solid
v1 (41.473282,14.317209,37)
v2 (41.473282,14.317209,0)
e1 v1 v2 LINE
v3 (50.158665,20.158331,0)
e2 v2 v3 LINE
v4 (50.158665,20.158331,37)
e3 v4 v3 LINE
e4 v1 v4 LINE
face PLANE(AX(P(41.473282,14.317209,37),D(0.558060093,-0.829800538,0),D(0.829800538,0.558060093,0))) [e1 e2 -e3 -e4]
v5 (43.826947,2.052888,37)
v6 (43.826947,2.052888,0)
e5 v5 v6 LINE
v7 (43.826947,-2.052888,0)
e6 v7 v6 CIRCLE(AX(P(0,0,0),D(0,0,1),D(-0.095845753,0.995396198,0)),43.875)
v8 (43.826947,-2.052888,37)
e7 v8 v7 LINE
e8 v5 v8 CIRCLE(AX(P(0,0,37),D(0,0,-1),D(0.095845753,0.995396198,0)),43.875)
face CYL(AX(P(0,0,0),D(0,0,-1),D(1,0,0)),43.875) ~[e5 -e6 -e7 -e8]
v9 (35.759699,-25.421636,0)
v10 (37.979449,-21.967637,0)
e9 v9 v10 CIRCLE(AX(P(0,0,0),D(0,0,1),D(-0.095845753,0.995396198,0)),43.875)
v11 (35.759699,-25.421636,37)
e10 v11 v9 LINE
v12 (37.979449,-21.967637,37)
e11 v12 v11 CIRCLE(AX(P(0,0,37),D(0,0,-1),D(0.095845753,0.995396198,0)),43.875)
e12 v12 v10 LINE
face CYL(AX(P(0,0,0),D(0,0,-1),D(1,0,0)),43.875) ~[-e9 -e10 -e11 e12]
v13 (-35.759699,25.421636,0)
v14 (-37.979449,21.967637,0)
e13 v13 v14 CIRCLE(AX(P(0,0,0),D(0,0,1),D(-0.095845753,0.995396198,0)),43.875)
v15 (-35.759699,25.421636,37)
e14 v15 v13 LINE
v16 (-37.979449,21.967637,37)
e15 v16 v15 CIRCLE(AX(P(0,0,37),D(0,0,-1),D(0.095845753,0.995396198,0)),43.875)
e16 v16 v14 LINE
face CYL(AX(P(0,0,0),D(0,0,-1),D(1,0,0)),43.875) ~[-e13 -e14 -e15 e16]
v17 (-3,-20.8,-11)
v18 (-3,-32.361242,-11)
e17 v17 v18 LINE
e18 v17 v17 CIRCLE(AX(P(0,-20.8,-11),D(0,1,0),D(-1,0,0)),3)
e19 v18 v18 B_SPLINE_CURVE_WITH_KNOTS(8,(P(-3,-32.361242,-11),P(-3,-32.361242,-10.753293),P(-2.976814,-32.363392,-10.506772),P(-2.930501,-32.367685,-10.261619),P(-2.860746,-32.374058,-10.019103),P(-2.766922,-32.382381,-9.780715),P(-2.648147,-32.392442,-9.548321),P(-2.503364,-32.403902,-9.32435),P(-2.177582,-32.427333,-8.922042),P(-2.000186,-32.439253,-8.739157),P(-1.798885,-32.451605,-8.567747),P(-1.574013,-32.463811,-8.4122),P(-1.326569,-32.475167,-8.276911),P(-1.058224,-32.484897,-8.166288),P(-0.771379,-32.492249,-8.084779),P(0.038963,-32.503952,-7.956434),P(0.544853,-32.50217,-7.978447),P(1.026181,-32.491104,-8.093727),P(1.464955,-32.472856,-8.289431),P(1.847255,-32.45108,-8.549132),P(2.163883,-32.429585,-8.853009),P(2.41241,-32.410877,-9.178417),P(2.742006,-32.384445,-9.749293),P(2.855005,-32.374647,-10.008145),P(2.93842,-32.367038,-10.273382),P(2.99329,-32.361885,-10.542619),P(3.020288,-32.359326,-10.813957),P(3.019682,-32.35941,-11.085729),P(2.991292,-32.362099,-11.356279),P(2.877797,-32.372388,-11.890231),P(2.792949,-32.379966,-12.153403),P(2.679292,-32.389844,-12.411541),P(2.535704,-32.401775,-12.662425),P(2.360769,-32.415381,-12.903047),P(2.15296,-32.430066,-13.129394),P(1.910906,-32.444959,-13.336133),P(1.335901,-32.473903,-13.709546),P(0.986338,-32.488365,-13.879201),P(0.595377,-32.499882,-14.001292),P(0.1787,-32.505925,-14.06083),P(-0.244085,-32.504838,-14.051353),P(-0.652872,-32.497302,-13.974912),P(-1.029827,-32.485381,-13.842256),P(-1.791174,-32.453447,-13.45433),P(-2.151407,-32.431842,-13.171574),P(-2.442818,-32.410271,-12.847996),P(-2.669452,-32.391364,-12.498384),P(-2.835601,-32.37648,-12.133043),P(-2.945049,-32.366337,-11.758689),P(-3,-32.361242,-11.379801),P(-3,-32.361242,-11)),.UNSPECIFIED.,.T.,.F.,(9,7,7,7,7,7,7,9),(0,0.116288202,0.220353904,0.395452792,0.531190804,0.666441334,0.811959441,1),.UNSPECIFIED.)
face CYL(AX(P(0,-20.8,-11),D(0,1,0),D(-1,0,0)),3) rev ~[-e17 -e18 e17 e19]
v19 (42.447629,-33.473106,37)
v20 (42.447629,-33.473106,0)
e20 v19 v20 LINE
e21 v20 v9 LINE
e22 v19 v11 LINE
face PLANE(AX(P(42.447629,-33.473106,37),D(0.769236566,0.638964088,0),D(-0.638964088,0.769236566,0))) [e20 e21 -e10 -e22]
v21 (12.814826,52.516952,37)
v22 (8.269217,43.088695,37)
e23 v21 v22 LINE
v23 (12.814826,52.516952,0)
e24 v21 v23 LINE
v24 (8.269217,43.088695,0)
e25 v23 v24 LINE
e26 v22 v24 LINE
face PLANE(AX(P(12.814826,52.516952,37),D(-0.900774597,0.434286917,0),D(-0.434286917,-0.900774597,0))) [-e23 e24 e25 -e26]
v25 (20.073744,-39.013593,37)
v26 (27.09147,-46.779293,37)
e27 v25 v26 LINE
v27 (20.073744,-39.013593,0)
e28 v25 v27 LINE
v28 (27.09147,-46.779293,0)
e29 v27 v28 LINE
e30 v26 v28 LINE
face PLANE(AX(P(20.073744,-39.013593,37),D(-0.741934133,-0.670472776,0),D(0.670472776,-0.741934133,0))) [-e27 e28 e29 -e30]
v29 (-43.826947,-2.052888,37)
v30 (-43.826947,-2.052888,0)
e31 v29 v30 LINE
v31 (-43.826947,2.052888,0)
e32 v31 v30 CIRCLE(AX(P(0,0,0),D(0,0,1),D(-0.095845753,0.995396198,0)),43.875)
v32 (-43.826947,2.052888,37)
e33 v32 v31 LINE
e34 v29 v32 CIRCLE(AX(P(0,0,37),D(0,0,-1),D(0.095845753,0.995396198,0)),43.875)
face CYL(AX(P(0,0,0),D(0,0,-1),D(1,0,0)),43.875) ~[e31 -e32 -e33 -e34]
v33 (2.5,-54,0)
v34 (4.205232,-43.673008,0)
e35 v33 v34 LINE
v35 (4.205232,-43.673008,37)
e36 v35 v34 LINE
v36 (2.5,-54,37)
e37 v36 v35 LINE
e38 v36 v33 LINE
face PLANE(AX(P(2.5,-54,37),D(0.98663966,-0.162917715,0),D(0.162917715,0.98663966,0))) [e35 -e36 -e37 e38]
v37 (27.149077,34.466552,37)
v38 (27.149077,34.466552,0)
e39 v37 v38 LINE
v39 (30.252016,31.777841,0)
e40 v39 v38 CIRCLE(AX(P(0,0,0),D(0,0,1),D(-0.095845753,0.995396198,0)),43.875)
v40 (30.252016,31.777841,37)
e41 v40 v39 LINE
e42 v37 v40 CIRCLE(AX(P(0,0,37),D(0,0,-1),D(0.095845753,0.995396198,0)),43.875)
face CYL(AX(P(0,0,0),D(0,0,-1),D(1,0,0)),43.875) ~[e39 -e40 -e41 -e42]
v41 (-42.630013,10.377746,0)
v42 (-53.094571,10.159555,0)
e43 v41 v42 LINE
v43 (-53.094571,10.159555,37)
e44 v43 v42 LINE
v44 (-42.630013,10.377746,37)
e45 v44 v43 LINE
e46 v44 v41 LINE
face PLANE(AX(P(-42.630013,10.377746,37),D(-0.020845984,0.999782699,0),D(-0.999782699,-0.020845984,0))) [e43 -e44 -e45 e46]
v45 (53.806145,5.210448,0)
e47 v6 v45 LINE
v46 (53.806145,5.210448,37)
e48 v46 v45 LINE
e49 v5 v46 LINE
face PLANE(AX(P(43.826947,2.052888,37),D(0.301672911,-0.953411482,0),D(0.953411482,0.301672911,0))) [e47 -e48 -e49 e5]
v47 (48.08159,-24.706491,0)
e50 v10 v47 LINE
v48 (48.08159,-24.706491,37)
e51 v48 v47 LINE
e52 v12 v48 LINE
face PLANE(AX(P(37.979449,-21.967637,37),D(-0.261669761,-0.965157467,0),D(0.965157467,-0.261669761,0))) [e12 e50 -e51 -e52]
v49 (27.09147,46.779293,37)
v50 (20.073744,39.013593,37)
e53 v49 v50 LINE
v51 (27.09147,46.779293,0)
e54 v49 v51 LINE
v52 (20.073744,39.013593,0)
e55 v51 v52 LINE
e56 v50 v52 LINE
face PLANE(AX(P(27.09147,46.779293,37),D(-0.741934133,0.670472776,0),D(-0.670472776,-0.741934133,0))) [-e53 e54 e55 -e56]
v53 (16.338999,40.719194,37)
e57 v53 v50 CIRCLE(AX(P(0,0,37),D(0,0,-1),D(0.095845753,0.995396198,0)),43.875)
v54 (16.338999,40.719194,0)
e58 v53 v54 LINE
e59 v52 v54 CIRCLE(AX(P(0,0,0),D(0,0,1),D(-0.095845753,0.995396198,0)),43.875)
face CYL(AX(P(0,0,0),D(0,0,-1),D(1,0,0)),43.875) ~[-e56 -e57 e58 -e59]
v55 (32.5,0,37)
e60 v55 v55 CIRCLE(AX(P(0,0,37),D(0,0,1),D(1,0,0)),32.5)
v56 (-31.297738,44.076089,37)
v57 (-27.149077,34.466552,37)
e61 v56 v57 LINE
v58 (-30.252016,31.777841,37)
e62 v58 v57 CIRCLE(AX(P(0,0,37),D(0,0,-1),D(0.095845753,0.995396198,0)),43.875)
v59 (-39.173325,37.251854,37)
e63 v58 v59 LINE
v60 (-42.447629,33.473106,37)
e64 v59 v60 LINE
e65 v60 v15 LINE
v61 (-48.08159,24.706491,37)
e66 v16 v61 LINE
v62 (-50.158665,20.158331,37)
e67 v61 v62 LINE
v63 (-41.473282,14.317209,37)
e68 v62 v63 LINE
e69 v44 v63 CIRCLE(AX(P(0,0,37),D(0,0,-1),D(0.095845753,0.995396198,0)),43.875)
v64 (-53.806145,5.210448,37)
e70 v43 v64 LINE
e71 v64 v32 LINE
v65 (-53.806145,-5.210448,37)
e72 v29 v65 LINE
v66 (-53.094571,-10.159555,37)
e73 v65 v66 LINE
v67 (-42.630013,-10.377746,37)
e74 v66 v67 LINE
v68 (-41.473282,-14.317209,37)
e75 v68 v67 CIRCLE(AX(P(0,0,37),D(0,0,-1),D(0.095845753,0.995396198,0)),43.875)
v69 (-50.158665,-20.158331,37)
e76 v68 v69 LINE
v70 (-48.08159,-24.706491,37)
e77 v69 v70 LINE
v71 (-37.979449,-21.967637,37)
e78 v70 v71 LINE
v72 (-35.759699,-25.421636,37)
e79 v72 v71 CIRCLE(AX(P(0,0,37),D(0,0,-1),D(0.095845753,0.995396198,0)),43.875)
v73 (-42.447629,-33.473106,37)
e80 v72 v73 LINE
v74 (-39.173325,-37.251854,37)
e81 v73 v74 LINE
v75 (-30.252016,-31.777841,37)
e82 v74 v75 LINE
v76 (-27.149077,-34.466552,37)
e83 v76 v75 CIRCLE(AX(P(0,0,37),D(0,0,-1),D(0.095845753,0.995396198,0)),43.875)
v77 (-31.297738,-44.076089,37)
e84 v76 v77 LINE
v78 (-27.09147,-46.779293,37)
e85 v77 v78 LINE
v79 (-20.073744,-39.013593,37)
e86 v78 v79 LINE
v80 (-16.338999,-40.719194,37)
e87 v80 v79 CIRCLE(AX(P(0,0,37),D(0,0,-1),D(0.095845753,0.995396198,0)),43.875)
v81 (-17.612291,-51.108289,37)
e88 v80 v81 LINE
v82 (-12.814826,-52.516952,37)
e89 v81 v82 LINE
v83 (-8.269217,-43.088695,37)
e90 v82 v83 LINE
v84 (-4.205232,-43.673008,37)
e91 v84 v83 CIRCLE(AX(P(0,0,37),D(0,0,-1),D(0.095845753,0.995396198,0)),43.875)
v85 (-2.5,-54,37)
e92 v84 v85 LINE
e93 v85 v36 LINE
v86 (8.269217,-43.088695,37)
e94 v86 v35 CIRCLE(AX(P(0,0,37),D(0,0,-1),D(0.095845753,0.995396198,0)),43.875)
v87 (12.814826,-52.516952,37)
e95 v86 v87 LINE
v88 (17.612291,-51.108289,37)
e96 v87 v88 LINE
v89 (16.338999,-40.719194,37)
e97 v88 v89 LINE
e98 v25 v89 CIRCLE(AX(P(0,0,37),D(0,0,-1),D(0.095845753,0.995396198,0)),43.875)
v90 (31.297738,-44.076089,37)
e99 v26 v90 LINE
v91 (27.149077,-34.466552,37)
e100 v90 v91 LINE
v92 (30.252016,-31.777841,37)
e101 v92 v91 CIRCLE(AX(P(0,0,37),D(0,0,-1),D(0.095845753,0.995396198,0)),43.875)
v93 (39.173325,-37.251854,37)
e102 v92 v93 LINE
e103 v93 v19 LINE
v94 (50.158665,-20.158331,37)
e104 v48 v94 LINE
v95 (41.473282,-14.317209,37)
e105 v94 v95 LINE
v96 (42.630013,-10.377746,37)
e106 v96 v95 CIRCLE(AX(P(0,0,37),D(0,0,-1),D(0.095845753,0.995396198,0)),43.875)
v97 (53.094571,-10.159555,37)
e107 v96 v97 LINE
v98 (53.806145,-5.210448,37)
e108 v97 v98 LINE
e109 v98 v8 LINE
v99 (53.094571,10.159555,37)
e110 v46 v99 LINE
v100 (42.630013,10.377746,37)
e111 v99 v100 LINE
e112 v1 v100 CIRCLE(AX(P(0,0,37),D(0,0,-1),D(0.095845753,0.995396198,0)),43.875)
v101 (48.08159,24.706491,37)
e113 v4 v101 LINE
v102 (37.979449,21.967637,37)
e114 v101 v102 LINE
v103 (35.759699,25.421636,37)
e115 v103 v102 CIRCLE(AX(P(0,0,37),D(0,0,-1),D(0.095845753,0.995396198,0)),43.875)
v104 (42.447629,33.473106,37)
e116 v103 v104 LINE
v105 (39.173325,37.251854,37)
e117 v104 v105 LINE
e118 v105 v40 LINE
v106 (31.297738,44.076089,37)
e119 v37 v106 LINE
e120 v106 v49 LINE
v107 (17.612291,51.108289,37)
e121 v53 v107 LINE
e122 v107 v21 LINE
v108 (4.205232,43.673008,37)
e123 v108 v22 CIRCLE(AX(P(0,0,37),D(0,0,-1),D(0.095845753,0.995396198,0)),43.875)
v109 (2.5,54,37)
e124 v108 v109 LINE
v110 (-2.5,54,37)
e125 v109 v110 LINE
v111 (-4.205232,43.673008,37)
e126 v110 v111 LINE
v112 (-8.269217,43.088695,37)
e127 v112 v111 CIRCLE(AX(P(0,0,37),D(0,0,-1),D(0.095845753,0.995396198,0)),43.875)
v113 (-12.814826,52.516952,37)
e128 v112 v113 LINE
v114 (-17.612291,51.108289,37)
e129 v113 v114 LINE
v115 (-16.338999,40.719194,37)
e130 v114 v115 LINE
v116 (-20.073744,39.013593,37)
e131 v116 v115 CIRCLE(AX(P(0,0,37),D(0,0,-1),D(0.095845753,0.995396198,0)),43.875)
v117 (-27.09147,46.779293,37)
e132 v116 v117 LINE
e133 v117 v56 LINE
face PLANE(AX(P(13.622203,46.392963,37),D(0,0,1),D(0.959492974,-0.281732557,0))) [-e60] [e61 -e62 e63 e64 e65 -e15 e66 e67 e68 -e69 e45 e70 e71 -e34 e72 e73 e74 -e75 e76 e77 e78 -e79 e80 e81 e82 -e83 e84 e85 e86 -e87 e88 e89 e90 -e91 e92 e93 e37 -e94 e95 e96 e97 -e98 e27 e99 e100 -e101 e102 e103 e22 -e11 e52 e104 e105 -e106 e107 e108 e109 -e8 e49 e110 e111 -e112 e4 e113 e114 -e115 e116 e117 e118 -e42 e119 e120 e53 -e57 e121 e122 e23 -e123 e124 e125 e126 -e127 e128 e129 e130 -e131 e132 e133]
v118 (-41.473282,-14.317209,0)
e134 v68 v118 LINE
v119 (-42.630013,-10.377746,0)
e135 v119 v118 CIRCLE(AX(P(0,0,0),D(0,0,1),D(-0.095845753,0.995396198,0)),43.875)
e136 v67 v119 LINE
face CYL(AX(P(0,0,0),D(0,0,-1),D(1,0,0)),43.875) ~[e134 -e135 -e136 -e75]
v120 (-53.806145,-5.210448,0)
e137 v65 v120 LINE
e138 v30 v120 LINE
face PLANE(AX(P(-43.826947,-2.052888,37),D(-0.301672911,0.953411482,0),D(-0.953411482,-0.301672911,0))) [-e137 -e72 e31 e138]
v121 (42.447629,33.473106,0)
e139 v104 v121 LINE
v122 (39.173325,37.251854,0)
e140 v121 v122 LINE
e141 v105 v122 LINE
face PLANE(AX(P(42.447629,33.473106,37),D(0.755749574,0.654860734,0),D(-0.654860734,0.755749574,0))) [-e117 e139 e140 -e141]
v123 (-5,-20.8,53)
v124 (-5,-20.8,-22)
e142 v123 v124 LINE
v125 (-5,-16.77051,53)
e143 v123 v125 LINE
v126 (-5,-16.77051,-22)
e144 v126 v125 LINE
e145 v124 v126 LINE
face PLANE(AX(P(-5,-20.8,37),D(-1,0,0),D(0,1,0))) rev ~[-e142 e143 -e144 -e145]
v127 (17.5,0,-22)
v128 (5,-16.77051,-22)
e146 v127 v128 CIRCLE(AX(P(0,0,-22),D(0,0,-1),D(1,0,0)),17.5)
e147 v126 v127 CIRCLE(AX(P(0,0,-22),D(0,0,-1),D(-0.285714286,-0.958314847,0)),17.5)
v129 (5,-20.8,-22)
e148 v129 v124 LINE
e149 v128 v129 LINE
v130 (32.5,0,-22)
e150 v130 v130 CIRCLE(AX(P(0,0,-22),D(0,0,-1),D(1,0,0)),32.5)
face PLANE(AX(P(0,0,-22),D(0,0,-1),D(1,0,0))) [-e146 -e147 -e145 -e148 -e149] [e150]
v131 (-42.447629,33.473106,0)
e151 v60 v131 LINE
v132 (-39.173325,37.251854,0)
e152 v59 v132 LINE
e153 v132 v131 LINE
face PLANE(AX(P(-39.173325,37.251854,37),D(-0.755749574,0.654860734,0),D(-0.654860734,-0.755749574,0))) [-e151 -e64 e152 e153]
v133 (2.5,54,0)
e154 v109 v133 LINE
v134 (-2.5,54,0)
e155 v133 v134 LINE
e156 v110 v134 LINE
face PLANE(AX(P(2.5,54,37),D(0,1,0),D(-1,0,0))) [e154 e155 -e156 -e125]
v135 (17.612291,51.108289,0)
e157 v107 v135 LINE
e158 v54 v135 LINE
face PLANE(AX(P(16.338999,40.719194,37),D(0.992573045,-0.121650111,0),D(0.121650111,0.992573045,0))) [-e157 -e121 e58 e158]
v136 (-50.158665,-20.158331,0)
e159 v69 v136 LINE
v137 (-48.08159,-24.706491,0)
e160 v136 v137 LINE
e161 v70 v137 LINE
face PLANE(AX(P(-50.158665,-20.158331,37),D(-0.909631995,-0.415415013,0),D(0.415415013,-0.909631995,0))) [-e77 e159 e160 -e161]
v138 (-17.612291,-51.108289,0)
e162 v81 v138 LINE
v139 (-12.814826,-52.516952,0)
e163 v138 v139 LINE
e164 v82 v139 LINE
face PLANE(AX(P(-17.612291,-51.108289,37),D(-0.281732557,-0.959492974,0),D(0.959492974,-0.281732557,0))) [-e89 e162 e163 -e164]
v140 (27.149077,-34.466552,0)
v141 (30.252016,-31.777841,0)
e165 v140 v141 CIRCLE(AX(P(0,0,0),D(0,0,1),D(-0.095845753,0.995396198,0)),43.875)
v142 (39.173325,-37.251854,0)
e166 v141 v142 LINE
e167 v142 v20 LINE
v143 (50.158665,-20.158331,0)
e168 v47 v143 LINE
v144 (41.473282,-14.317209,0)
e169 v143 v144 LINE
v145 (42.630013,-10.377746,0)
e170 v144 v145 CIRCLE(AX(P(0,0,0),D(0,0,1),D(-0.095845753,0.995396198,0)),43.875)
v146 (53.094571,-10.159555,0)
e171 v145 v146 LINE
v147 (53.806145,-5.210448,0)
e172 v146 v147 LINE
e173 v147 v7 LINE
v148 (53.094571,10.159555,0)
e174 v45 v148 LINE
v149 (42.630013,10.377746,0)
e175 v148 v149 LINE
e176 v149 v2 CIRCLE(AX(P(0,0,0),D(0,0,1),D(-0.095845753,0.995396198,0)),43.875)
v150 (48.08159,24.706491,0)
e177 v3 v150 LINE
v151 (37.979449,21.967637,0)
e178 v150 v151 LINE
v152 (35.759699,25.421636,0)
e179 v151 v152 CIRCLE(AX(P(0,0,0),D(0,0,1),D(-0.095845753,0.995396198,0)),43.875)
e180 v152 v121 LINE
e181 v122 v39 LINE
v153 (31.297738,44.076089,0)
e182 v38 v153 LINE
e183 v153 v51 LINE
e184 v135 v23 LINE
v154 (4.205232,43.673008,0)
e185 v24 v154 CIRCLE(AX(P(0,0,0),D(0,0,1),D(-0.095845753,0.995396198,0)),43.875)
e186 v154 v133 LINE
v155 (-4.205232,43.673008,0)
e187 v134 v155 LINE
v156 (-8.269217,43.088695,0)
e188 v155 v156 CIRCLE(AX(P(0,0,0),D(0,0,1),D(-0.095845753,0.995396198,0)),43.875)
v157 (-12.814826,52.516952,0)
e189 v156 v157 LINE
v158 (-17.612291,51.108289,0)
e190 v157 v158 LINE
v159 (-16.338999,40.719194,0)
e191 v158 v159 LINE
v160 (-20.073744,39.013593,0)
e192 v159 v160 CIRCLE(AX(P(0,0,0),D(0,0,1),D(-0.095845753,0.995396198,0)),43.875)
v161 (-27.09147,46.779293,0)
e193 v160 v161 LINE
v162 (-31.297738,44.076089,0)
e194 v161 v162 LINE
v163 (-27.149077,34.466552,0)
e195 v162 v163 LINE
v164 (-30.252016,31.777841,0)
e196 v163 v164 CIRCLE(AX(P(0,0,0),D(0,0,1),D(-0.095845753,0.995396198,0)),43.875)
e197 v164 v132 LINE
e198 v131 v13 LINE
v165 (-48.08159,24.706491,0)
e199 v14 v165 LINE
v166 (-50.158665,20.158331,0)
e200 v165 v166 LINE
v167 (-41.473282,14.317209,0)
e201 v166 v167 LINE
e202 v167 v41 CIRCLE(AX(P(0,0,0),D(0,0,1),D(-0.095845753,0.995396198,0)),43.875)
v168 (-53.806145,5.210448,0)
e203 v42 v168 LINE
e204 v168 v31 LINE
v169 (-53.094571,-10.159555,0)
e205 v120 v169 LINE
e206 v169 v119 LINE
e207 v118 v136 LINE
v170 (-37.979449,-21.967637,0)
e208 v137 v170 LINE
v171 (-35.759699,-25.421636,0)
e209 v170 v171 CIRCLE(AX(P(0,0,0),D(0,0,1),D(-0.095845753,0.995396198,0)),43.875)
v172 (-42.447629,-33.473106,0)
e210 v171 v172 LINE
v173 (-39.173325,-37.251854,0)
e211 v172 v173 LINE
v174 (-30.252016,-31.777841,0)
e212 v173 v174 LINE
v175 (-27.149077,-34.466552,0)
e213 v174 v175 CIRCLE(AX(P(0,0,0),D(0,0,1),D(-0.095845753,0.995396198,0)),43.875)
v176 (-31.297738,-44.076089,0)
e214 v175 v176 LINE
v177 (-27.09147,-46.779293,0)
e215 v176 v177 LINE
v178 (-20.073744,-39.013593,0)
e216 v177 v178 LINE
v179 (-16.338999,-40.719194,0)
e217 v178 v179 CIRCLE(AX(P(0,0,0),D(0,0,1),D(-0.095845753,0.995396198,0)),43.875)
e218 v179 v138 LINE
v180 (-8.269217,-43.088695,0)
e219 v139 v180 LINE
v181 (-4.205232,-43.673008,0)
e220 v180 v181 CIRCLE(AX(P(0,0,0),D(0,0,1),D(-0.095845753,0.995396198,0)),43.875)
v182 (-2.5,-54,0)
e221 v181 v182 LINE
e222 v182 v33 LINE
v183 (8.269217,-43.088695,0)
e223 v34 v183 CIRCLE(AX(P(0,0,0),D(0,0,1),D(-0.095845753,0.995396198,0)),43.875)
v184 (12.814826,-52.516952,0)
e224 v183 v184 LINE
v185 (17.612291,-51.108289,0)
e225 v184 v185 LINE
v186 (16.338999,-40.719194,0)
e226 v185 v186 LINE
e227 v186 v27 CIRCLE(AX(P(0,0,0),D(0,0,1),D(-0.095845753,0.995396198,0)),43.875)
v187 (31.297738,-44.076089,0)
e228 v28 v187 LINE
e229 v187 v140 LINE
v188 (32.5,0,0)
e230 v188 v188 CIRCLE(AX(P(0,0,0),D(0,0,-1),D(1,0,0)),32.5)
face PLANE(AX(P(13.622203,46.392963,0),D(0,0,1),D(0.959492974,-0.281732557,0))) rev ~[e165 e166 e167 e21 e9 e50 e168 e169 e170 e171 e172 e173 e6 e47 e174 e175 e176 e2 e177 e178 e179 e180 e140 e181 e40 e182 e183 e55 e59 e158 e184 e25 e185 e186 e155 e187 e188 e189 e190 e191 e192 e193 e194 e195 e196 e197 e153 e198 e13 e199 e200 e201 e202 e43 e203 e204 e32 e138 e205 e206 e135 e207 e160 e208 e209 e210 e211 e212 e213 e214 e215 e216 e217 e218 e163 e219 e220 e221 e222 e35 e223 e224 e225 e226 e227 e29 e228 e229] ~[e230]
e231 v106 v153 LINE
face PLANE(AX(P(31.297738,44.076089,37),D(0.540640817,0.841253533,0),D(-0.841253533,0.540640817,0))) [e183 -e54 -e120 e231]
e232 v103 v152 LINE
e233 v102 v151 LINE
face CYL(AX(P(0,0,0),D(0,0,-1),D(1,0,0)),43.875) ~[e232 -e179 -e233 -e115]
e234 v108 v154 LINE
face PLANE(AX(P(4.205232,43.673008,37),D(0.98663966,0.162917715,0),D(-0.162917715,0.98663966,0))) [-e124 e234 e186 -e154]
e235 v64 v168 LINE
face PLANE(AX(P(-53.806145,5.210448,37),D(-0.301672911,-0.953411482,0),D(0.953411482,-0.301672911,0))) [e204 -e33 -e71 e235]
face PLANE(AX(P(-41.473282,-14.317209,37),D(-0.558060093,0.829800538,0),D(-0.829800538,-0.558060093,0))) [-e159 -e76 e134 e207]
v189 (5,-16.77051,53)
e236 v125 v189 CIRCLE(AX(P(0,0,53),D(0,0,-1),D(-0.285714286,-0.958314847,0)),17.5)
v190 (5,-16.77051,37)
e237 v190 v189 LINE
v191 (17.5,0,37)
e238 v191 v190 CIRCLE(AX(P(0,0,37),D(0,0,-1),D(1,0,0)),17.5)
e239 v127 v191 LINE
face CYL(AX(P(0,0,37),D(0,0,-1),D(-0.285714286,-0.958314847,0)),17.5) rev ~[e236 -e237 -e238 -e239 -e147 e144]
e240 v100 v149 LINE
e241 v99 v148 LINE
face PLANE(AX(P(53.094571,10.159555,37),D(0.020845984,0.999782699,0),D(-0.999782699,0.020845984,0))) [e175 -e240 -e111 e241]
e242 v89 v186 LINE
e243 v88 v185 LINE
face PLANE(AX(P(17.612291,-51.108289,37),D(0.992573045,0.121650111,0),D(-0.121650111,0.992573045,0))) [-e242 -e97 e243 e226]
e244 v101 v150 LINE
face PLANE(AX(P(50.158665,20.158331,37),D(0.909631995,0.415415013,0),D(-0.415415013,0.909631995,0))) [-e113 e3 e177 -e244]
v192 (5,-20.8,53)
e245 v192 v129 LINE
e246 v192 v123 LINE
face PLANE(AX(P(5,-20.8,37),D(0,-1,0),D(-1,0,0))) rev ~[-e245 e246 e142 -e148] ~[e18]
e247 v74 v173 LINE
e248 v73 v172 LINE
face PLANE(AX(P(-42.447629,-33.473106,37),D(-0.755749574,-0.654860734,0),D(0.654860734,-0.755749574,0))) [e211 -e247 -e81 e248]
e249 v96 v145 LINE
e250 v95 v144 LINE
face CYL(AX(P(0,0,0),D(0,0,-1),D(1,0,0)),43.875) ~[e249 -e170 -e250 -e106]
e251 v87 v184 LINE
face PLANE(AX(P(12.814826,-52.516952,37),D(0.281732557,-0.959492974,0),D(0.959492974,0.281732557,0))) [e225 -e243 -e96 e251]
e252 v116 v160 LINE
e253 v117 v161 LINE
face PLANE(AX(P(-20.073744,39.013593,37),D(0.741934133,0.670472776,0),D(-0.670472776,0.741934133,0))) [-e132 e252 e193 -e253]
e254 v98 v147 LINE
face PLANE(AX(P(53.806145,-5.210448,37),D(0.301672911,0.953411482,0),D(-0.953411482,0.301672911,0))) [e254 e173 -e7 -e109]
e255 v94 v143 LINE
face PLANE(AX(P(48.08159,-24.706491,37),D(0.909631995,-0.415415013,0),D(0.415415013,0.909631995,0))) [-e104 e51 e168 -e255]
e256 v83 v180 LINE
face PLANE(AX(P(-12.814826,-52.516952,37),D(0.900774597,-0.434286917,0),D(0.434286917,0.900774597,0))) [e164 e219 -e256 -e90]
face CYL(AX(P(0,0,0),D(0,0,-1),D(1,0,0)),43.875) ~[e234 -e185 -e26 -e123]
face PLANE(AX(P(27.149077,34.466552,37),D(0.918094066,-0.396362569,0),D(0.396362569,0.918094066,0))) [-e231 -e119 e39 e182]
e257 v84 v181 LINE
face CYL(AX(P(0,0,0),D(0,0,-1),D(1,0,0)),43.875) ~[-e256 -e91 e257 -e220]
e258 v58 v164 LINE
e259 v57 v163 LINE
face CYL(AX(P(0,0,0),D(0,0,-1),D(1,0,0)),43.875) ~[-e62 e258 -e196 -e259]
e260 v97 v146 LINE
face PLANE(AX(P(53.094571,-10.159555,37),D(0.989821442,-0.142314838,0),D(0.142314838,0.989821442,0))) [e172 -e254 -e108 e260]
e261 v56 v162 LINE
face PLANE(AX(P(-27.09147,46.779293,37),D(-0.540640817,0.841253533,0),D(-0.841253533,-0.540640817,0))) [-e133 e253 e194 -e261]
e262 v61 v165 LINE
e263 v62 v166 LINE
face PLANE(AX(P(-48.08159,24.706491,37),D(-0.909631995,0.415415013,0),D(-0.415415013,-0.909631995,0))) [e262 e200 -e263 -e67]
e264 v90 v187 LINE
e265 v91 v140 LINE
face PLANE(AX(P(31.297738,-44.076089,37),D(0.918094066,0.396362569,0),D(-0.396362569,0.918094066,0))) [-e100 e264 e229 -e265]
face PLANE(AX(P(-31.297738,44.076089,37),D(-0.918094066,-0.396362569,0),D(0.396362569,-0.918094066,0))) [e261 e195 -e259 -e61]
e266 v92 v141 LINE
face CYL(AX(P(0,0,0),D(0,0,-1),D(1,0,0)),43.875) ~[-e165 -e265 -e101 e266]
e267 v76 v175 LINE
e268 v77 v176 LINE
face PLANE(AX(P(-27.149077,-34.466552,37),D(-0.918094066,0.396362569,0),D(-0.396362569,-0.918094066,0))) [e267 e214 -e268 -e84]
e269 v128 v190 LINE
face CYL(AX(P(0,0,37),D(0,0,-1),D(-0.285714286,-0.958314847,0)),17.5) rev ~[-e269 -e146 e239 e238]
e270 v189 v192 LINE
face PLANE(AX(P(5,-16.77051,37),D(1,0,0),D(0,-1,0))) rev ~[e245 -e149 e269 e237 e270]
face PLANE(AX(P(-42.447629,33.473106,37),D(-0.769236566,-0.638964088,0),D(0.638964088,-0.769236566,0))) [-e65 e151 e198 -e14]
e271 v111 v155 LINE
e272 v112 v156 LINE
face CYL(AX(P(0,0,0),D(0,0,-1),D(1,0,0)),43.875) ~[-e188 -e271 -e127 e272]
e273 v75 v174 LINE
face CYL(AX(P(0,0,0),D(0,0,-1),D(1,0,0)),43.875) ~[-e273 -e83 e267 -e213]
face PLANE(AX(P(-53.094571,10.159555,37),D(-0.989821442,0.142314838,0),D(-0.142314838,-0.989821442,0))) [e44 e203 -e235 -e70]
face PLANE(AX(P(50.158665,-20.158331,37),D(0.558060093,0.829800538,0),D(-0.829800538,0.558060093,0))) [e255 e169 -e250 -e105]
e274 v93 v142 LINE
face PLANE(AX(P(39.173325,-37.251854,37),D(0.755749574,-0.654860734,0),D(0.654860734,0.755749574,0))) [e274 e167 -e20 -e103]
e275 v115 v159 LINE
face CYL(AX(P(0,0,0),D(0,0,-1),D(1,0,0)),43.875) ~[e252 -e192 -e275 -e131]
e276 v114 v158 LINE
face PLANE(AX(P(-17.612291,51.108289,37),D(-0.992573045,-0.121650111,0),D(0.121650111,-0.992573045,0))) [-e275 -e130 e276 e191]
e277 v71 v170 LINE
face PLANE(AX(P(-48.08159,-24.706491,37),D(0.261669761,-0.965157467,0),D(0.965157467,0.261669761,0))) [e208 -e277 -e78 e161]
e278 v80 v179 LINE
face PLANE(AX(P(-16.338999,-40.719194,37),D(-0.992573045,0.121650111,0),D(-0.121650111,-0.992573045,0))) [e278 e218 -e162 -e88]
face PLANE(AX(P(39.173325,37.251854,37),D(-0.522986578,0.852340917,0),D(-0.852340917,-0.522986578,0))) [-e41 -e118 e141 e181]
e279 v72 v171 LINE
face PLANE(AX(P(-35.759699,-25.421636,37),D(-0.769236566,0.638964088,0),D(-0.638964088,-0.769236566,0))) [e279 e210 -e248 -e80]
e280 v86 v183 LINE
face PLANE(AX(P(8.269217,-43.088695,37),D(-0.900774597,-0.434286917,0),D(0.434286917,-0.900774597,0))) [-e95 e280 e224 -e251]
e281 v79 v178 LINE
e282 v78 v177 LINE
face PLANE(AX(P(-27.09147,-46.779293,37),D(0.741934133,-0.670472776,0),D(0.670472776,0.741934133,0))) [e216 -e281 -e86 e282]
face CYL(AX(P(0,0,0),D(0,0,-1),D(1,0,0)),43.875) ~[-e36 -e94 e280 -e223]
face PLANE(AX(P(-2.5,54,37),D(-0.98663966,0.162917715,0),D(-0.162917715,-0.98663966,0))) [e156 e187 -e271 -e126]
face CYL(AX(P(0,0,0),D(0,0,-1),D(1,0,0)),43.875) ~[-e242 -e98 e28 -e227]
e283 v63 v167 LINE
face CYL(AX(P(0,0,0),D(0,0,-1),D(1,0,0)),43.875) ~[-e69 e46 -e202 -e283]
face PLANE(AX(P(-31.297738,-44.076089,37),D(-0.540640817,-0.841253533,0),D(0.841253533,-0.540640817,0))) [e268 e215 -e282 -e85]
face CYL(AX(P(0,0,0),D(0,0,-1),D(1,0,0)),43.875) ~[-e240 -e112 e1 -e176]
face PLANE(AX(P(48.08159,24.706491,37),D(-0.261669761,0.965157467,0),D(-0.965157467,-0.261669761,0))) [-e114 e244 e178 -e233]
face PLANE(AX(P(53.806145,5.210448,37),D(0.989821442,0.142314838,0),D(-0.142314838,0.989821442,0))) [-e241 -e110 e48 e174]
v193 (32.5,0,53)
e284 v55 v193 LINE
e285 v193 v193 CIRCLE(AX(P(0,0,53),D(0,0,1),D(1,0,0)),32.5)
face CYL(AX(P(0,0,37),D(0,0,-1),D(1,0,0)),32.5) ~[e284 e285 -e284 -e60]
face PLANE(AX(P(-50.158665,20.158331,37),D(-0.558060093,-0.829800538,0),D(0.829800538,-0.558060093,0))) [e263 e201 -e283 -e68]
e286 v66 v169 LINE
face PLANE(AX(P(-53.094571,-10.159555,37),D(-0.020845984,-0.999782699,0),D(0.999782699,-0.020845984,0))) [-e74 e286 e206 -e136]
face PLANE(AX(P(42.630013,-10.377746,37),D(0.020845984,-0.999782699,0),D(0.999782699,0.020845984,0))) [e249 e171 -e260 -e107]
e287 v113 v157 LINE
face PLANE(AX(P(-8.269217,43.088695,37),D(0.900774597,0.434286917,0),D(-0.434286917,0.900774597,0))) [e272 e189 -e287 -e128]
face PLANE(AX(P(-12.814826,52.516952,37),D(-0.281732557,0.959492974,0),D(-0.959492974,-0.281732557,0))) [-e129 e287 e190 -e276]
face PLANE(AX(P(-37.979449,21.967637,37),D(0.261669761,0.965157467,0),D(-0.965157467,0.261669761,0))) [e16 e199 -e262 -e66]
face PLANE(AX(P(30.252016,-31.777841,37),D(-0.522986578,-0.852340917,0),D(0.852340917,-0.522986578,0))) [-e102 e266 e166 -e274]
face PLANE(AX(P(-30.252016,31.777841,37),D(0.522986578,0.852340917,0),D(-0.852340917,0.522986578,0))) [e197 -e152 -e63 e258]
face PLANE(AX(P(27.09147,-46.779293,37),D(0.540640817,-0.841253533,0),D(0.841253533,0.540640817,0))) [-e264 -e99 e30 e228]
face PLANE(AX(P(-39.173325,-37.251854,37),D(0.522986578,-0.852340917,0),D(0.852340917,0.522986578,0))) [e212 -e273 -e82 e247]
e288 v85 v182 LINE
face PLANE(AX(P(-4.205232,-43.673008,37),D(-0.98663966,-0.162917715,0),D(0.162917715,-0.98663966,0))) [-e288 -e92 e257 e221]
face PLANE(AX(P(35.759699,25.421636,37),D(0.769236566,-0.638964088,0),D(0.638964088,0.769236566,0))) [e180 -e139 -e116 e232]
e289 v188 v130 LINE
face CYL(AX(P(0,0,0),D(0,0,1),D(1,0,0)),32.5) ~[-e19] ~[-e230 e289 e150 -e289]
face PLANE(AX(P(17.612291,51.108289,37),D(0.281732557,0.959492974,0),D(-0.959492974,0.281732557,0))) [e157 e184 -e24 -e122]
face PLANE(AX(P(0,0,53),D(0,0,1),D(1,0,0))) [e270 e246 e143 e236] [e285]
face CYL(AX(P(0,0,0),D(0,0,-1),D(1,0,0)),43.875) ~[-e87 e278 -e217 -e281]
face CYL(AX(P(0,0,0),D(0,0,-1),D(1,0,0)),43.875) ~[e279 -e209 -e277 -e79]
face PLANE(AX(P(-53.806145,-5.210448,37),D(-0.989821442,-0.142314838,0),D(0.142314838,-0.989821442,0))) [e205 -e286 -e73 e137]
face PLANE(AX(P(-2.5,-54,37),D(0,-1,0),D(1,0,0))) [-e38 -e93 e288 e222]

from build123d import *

# Parameters (mm, degrees)
F0_R      = 43.875
F1_DEPTH  = 37
F3_DEPTH  = 37
F5_COUNT  = 22
F6_R      = 32.5
F7_DEPTH  = 22
F9_DEPTH  = 59.001
F10_R     = 3
F11_DEPTH = 33.201
F12_R     = 32.5
F13_DEPTH = 16


with BuildPart() as f1:
    # F0 (on Top) → F1 (new body)
    with BuildSketch(Plane.XY):
        Circle(F0_R)
    extrude(amount=F1_DEPTH)

    # F2 (on face) → F3 (join, through all)
    with BuildSketch(Plane.XY.offset(37)):
        with BuildLine():
            ThreePointArc((-4.2052323918, 43.6730082034), (0, 43.875), (4.2052323918, 43.6730082034))
            Line((4.2052323918, 43.6730082034), (2.5, 54))
            Line((2.5, 54), (-2.5, 54))
            Line((-2.5, 54), (-4.2052323918, 43.6730082034))
        make_face()
        with BuildLine():
            ThreePointArc((-4.2052323918, 43.6730082034), (-29.5000936762, -32.4770703435), (43.875, 0))
            ThreePointArc((43.875, 0), (32.4770703435, 29.5000936762), (4.2052323918, 43.6730082034))
            ThreePointArc((4.2052323918, 43.6730082034), (0, 43.875), (-4.2052323918, 43.6730082034))
        make_face()
    extrude(amount=-F3_DEPTH)

    # F5: F1 ×22 about axis
    f5_axis = Axis((0, 0, 35), (0, 0, 1))


with BuildPart() as f1_1:
    add(f1.part)
    for i in range(1, F5_COUNT):
        add(f1.part.rotate(f5_axis, i * 360 / F5_COUNT))

    # F6 (on face) → F7 (join)
    with BuildSketch(Plane(origin=(0, 0, 0), x_dir=(1, 0, 0), z_dir=(0, 0, -1))):
        Circle(F6_R)
    extrude(amount=F7_DEPTH)

    # F8 (on face) → F9 (cut, through all)
    with BuildSketch(Plane(origin=(0, 0, -22), x_dir=(1, 0, 0), z_dir=(0, 0, -1))):
        with BuildLine():
            Line((5, 0), (5, 16.7705098312))
            ThreePointArc((5, 16.7705098312), (0, 17.5), (-5, 16.7705098312))
            Line((-5, 16.7705098312), (-5, 0))
            Line((-5, 0), (5, 0))
        make_face()
        with BuildLine():
            ThreePointArc((-5, 16.7705098312), (0, 17.5), (5, 16.7705098312))
            Line((5, 16.7705098312), (5, 20.8))
            Line((5, 20.8), (-5, 20.8))
            Line((-5, 20.8), (-5, 16.7705098312))
        make_face()
        with BuildLine():
            ThreePointArc((-5, 16.7705098312), (-10.4582503317, -14.0312152004), (17.5, 0))
            ThreePointArc((17.5, 0), (14.0312152004, 10.4582503317), (5, 16.7705098312))
            Line((5, 16.7705098312), (5, 0))
            Line((5, 0), (-5, 0))
            Line((-5, 0), (-5, 16.7705098312))
        make_face()
    extrude(amount=-F9_DEPTH, mode=Mode.SUBTRACT)

    # F10 (on face) → F11 (cut, through all)
    with BuildSketch(Plane(origin=(0, -20.8, 0), x_dir=(-1, 0, 0), z_dir=(0, 1, 0))):
        with Locations((0, -11)):
            Circle(F10_R)
    extrude(amount=-F11_DEPTH, mode=Mode.SUBTRACT)

    # F12 (on face) → F13 (join)
    with BuildSketch(Plane.XY.offset(37)):
        Circle(F12_R)
        with BuildLine():
            ThreePointArc((-5, -16.7705098312), (0, 17.5), (5, -16.7705098312))
            Line((5, -16.7705098312), (5, -20.8))
            Line((5, -20.8), (-5, -20.8))
            Line((-5, -20.8), (-5, -16.7705098312))
        make_face(mode=Mode.SUBTRACT)
    extrude(amount=F13_DEPTH)


solid = f1_1.part
